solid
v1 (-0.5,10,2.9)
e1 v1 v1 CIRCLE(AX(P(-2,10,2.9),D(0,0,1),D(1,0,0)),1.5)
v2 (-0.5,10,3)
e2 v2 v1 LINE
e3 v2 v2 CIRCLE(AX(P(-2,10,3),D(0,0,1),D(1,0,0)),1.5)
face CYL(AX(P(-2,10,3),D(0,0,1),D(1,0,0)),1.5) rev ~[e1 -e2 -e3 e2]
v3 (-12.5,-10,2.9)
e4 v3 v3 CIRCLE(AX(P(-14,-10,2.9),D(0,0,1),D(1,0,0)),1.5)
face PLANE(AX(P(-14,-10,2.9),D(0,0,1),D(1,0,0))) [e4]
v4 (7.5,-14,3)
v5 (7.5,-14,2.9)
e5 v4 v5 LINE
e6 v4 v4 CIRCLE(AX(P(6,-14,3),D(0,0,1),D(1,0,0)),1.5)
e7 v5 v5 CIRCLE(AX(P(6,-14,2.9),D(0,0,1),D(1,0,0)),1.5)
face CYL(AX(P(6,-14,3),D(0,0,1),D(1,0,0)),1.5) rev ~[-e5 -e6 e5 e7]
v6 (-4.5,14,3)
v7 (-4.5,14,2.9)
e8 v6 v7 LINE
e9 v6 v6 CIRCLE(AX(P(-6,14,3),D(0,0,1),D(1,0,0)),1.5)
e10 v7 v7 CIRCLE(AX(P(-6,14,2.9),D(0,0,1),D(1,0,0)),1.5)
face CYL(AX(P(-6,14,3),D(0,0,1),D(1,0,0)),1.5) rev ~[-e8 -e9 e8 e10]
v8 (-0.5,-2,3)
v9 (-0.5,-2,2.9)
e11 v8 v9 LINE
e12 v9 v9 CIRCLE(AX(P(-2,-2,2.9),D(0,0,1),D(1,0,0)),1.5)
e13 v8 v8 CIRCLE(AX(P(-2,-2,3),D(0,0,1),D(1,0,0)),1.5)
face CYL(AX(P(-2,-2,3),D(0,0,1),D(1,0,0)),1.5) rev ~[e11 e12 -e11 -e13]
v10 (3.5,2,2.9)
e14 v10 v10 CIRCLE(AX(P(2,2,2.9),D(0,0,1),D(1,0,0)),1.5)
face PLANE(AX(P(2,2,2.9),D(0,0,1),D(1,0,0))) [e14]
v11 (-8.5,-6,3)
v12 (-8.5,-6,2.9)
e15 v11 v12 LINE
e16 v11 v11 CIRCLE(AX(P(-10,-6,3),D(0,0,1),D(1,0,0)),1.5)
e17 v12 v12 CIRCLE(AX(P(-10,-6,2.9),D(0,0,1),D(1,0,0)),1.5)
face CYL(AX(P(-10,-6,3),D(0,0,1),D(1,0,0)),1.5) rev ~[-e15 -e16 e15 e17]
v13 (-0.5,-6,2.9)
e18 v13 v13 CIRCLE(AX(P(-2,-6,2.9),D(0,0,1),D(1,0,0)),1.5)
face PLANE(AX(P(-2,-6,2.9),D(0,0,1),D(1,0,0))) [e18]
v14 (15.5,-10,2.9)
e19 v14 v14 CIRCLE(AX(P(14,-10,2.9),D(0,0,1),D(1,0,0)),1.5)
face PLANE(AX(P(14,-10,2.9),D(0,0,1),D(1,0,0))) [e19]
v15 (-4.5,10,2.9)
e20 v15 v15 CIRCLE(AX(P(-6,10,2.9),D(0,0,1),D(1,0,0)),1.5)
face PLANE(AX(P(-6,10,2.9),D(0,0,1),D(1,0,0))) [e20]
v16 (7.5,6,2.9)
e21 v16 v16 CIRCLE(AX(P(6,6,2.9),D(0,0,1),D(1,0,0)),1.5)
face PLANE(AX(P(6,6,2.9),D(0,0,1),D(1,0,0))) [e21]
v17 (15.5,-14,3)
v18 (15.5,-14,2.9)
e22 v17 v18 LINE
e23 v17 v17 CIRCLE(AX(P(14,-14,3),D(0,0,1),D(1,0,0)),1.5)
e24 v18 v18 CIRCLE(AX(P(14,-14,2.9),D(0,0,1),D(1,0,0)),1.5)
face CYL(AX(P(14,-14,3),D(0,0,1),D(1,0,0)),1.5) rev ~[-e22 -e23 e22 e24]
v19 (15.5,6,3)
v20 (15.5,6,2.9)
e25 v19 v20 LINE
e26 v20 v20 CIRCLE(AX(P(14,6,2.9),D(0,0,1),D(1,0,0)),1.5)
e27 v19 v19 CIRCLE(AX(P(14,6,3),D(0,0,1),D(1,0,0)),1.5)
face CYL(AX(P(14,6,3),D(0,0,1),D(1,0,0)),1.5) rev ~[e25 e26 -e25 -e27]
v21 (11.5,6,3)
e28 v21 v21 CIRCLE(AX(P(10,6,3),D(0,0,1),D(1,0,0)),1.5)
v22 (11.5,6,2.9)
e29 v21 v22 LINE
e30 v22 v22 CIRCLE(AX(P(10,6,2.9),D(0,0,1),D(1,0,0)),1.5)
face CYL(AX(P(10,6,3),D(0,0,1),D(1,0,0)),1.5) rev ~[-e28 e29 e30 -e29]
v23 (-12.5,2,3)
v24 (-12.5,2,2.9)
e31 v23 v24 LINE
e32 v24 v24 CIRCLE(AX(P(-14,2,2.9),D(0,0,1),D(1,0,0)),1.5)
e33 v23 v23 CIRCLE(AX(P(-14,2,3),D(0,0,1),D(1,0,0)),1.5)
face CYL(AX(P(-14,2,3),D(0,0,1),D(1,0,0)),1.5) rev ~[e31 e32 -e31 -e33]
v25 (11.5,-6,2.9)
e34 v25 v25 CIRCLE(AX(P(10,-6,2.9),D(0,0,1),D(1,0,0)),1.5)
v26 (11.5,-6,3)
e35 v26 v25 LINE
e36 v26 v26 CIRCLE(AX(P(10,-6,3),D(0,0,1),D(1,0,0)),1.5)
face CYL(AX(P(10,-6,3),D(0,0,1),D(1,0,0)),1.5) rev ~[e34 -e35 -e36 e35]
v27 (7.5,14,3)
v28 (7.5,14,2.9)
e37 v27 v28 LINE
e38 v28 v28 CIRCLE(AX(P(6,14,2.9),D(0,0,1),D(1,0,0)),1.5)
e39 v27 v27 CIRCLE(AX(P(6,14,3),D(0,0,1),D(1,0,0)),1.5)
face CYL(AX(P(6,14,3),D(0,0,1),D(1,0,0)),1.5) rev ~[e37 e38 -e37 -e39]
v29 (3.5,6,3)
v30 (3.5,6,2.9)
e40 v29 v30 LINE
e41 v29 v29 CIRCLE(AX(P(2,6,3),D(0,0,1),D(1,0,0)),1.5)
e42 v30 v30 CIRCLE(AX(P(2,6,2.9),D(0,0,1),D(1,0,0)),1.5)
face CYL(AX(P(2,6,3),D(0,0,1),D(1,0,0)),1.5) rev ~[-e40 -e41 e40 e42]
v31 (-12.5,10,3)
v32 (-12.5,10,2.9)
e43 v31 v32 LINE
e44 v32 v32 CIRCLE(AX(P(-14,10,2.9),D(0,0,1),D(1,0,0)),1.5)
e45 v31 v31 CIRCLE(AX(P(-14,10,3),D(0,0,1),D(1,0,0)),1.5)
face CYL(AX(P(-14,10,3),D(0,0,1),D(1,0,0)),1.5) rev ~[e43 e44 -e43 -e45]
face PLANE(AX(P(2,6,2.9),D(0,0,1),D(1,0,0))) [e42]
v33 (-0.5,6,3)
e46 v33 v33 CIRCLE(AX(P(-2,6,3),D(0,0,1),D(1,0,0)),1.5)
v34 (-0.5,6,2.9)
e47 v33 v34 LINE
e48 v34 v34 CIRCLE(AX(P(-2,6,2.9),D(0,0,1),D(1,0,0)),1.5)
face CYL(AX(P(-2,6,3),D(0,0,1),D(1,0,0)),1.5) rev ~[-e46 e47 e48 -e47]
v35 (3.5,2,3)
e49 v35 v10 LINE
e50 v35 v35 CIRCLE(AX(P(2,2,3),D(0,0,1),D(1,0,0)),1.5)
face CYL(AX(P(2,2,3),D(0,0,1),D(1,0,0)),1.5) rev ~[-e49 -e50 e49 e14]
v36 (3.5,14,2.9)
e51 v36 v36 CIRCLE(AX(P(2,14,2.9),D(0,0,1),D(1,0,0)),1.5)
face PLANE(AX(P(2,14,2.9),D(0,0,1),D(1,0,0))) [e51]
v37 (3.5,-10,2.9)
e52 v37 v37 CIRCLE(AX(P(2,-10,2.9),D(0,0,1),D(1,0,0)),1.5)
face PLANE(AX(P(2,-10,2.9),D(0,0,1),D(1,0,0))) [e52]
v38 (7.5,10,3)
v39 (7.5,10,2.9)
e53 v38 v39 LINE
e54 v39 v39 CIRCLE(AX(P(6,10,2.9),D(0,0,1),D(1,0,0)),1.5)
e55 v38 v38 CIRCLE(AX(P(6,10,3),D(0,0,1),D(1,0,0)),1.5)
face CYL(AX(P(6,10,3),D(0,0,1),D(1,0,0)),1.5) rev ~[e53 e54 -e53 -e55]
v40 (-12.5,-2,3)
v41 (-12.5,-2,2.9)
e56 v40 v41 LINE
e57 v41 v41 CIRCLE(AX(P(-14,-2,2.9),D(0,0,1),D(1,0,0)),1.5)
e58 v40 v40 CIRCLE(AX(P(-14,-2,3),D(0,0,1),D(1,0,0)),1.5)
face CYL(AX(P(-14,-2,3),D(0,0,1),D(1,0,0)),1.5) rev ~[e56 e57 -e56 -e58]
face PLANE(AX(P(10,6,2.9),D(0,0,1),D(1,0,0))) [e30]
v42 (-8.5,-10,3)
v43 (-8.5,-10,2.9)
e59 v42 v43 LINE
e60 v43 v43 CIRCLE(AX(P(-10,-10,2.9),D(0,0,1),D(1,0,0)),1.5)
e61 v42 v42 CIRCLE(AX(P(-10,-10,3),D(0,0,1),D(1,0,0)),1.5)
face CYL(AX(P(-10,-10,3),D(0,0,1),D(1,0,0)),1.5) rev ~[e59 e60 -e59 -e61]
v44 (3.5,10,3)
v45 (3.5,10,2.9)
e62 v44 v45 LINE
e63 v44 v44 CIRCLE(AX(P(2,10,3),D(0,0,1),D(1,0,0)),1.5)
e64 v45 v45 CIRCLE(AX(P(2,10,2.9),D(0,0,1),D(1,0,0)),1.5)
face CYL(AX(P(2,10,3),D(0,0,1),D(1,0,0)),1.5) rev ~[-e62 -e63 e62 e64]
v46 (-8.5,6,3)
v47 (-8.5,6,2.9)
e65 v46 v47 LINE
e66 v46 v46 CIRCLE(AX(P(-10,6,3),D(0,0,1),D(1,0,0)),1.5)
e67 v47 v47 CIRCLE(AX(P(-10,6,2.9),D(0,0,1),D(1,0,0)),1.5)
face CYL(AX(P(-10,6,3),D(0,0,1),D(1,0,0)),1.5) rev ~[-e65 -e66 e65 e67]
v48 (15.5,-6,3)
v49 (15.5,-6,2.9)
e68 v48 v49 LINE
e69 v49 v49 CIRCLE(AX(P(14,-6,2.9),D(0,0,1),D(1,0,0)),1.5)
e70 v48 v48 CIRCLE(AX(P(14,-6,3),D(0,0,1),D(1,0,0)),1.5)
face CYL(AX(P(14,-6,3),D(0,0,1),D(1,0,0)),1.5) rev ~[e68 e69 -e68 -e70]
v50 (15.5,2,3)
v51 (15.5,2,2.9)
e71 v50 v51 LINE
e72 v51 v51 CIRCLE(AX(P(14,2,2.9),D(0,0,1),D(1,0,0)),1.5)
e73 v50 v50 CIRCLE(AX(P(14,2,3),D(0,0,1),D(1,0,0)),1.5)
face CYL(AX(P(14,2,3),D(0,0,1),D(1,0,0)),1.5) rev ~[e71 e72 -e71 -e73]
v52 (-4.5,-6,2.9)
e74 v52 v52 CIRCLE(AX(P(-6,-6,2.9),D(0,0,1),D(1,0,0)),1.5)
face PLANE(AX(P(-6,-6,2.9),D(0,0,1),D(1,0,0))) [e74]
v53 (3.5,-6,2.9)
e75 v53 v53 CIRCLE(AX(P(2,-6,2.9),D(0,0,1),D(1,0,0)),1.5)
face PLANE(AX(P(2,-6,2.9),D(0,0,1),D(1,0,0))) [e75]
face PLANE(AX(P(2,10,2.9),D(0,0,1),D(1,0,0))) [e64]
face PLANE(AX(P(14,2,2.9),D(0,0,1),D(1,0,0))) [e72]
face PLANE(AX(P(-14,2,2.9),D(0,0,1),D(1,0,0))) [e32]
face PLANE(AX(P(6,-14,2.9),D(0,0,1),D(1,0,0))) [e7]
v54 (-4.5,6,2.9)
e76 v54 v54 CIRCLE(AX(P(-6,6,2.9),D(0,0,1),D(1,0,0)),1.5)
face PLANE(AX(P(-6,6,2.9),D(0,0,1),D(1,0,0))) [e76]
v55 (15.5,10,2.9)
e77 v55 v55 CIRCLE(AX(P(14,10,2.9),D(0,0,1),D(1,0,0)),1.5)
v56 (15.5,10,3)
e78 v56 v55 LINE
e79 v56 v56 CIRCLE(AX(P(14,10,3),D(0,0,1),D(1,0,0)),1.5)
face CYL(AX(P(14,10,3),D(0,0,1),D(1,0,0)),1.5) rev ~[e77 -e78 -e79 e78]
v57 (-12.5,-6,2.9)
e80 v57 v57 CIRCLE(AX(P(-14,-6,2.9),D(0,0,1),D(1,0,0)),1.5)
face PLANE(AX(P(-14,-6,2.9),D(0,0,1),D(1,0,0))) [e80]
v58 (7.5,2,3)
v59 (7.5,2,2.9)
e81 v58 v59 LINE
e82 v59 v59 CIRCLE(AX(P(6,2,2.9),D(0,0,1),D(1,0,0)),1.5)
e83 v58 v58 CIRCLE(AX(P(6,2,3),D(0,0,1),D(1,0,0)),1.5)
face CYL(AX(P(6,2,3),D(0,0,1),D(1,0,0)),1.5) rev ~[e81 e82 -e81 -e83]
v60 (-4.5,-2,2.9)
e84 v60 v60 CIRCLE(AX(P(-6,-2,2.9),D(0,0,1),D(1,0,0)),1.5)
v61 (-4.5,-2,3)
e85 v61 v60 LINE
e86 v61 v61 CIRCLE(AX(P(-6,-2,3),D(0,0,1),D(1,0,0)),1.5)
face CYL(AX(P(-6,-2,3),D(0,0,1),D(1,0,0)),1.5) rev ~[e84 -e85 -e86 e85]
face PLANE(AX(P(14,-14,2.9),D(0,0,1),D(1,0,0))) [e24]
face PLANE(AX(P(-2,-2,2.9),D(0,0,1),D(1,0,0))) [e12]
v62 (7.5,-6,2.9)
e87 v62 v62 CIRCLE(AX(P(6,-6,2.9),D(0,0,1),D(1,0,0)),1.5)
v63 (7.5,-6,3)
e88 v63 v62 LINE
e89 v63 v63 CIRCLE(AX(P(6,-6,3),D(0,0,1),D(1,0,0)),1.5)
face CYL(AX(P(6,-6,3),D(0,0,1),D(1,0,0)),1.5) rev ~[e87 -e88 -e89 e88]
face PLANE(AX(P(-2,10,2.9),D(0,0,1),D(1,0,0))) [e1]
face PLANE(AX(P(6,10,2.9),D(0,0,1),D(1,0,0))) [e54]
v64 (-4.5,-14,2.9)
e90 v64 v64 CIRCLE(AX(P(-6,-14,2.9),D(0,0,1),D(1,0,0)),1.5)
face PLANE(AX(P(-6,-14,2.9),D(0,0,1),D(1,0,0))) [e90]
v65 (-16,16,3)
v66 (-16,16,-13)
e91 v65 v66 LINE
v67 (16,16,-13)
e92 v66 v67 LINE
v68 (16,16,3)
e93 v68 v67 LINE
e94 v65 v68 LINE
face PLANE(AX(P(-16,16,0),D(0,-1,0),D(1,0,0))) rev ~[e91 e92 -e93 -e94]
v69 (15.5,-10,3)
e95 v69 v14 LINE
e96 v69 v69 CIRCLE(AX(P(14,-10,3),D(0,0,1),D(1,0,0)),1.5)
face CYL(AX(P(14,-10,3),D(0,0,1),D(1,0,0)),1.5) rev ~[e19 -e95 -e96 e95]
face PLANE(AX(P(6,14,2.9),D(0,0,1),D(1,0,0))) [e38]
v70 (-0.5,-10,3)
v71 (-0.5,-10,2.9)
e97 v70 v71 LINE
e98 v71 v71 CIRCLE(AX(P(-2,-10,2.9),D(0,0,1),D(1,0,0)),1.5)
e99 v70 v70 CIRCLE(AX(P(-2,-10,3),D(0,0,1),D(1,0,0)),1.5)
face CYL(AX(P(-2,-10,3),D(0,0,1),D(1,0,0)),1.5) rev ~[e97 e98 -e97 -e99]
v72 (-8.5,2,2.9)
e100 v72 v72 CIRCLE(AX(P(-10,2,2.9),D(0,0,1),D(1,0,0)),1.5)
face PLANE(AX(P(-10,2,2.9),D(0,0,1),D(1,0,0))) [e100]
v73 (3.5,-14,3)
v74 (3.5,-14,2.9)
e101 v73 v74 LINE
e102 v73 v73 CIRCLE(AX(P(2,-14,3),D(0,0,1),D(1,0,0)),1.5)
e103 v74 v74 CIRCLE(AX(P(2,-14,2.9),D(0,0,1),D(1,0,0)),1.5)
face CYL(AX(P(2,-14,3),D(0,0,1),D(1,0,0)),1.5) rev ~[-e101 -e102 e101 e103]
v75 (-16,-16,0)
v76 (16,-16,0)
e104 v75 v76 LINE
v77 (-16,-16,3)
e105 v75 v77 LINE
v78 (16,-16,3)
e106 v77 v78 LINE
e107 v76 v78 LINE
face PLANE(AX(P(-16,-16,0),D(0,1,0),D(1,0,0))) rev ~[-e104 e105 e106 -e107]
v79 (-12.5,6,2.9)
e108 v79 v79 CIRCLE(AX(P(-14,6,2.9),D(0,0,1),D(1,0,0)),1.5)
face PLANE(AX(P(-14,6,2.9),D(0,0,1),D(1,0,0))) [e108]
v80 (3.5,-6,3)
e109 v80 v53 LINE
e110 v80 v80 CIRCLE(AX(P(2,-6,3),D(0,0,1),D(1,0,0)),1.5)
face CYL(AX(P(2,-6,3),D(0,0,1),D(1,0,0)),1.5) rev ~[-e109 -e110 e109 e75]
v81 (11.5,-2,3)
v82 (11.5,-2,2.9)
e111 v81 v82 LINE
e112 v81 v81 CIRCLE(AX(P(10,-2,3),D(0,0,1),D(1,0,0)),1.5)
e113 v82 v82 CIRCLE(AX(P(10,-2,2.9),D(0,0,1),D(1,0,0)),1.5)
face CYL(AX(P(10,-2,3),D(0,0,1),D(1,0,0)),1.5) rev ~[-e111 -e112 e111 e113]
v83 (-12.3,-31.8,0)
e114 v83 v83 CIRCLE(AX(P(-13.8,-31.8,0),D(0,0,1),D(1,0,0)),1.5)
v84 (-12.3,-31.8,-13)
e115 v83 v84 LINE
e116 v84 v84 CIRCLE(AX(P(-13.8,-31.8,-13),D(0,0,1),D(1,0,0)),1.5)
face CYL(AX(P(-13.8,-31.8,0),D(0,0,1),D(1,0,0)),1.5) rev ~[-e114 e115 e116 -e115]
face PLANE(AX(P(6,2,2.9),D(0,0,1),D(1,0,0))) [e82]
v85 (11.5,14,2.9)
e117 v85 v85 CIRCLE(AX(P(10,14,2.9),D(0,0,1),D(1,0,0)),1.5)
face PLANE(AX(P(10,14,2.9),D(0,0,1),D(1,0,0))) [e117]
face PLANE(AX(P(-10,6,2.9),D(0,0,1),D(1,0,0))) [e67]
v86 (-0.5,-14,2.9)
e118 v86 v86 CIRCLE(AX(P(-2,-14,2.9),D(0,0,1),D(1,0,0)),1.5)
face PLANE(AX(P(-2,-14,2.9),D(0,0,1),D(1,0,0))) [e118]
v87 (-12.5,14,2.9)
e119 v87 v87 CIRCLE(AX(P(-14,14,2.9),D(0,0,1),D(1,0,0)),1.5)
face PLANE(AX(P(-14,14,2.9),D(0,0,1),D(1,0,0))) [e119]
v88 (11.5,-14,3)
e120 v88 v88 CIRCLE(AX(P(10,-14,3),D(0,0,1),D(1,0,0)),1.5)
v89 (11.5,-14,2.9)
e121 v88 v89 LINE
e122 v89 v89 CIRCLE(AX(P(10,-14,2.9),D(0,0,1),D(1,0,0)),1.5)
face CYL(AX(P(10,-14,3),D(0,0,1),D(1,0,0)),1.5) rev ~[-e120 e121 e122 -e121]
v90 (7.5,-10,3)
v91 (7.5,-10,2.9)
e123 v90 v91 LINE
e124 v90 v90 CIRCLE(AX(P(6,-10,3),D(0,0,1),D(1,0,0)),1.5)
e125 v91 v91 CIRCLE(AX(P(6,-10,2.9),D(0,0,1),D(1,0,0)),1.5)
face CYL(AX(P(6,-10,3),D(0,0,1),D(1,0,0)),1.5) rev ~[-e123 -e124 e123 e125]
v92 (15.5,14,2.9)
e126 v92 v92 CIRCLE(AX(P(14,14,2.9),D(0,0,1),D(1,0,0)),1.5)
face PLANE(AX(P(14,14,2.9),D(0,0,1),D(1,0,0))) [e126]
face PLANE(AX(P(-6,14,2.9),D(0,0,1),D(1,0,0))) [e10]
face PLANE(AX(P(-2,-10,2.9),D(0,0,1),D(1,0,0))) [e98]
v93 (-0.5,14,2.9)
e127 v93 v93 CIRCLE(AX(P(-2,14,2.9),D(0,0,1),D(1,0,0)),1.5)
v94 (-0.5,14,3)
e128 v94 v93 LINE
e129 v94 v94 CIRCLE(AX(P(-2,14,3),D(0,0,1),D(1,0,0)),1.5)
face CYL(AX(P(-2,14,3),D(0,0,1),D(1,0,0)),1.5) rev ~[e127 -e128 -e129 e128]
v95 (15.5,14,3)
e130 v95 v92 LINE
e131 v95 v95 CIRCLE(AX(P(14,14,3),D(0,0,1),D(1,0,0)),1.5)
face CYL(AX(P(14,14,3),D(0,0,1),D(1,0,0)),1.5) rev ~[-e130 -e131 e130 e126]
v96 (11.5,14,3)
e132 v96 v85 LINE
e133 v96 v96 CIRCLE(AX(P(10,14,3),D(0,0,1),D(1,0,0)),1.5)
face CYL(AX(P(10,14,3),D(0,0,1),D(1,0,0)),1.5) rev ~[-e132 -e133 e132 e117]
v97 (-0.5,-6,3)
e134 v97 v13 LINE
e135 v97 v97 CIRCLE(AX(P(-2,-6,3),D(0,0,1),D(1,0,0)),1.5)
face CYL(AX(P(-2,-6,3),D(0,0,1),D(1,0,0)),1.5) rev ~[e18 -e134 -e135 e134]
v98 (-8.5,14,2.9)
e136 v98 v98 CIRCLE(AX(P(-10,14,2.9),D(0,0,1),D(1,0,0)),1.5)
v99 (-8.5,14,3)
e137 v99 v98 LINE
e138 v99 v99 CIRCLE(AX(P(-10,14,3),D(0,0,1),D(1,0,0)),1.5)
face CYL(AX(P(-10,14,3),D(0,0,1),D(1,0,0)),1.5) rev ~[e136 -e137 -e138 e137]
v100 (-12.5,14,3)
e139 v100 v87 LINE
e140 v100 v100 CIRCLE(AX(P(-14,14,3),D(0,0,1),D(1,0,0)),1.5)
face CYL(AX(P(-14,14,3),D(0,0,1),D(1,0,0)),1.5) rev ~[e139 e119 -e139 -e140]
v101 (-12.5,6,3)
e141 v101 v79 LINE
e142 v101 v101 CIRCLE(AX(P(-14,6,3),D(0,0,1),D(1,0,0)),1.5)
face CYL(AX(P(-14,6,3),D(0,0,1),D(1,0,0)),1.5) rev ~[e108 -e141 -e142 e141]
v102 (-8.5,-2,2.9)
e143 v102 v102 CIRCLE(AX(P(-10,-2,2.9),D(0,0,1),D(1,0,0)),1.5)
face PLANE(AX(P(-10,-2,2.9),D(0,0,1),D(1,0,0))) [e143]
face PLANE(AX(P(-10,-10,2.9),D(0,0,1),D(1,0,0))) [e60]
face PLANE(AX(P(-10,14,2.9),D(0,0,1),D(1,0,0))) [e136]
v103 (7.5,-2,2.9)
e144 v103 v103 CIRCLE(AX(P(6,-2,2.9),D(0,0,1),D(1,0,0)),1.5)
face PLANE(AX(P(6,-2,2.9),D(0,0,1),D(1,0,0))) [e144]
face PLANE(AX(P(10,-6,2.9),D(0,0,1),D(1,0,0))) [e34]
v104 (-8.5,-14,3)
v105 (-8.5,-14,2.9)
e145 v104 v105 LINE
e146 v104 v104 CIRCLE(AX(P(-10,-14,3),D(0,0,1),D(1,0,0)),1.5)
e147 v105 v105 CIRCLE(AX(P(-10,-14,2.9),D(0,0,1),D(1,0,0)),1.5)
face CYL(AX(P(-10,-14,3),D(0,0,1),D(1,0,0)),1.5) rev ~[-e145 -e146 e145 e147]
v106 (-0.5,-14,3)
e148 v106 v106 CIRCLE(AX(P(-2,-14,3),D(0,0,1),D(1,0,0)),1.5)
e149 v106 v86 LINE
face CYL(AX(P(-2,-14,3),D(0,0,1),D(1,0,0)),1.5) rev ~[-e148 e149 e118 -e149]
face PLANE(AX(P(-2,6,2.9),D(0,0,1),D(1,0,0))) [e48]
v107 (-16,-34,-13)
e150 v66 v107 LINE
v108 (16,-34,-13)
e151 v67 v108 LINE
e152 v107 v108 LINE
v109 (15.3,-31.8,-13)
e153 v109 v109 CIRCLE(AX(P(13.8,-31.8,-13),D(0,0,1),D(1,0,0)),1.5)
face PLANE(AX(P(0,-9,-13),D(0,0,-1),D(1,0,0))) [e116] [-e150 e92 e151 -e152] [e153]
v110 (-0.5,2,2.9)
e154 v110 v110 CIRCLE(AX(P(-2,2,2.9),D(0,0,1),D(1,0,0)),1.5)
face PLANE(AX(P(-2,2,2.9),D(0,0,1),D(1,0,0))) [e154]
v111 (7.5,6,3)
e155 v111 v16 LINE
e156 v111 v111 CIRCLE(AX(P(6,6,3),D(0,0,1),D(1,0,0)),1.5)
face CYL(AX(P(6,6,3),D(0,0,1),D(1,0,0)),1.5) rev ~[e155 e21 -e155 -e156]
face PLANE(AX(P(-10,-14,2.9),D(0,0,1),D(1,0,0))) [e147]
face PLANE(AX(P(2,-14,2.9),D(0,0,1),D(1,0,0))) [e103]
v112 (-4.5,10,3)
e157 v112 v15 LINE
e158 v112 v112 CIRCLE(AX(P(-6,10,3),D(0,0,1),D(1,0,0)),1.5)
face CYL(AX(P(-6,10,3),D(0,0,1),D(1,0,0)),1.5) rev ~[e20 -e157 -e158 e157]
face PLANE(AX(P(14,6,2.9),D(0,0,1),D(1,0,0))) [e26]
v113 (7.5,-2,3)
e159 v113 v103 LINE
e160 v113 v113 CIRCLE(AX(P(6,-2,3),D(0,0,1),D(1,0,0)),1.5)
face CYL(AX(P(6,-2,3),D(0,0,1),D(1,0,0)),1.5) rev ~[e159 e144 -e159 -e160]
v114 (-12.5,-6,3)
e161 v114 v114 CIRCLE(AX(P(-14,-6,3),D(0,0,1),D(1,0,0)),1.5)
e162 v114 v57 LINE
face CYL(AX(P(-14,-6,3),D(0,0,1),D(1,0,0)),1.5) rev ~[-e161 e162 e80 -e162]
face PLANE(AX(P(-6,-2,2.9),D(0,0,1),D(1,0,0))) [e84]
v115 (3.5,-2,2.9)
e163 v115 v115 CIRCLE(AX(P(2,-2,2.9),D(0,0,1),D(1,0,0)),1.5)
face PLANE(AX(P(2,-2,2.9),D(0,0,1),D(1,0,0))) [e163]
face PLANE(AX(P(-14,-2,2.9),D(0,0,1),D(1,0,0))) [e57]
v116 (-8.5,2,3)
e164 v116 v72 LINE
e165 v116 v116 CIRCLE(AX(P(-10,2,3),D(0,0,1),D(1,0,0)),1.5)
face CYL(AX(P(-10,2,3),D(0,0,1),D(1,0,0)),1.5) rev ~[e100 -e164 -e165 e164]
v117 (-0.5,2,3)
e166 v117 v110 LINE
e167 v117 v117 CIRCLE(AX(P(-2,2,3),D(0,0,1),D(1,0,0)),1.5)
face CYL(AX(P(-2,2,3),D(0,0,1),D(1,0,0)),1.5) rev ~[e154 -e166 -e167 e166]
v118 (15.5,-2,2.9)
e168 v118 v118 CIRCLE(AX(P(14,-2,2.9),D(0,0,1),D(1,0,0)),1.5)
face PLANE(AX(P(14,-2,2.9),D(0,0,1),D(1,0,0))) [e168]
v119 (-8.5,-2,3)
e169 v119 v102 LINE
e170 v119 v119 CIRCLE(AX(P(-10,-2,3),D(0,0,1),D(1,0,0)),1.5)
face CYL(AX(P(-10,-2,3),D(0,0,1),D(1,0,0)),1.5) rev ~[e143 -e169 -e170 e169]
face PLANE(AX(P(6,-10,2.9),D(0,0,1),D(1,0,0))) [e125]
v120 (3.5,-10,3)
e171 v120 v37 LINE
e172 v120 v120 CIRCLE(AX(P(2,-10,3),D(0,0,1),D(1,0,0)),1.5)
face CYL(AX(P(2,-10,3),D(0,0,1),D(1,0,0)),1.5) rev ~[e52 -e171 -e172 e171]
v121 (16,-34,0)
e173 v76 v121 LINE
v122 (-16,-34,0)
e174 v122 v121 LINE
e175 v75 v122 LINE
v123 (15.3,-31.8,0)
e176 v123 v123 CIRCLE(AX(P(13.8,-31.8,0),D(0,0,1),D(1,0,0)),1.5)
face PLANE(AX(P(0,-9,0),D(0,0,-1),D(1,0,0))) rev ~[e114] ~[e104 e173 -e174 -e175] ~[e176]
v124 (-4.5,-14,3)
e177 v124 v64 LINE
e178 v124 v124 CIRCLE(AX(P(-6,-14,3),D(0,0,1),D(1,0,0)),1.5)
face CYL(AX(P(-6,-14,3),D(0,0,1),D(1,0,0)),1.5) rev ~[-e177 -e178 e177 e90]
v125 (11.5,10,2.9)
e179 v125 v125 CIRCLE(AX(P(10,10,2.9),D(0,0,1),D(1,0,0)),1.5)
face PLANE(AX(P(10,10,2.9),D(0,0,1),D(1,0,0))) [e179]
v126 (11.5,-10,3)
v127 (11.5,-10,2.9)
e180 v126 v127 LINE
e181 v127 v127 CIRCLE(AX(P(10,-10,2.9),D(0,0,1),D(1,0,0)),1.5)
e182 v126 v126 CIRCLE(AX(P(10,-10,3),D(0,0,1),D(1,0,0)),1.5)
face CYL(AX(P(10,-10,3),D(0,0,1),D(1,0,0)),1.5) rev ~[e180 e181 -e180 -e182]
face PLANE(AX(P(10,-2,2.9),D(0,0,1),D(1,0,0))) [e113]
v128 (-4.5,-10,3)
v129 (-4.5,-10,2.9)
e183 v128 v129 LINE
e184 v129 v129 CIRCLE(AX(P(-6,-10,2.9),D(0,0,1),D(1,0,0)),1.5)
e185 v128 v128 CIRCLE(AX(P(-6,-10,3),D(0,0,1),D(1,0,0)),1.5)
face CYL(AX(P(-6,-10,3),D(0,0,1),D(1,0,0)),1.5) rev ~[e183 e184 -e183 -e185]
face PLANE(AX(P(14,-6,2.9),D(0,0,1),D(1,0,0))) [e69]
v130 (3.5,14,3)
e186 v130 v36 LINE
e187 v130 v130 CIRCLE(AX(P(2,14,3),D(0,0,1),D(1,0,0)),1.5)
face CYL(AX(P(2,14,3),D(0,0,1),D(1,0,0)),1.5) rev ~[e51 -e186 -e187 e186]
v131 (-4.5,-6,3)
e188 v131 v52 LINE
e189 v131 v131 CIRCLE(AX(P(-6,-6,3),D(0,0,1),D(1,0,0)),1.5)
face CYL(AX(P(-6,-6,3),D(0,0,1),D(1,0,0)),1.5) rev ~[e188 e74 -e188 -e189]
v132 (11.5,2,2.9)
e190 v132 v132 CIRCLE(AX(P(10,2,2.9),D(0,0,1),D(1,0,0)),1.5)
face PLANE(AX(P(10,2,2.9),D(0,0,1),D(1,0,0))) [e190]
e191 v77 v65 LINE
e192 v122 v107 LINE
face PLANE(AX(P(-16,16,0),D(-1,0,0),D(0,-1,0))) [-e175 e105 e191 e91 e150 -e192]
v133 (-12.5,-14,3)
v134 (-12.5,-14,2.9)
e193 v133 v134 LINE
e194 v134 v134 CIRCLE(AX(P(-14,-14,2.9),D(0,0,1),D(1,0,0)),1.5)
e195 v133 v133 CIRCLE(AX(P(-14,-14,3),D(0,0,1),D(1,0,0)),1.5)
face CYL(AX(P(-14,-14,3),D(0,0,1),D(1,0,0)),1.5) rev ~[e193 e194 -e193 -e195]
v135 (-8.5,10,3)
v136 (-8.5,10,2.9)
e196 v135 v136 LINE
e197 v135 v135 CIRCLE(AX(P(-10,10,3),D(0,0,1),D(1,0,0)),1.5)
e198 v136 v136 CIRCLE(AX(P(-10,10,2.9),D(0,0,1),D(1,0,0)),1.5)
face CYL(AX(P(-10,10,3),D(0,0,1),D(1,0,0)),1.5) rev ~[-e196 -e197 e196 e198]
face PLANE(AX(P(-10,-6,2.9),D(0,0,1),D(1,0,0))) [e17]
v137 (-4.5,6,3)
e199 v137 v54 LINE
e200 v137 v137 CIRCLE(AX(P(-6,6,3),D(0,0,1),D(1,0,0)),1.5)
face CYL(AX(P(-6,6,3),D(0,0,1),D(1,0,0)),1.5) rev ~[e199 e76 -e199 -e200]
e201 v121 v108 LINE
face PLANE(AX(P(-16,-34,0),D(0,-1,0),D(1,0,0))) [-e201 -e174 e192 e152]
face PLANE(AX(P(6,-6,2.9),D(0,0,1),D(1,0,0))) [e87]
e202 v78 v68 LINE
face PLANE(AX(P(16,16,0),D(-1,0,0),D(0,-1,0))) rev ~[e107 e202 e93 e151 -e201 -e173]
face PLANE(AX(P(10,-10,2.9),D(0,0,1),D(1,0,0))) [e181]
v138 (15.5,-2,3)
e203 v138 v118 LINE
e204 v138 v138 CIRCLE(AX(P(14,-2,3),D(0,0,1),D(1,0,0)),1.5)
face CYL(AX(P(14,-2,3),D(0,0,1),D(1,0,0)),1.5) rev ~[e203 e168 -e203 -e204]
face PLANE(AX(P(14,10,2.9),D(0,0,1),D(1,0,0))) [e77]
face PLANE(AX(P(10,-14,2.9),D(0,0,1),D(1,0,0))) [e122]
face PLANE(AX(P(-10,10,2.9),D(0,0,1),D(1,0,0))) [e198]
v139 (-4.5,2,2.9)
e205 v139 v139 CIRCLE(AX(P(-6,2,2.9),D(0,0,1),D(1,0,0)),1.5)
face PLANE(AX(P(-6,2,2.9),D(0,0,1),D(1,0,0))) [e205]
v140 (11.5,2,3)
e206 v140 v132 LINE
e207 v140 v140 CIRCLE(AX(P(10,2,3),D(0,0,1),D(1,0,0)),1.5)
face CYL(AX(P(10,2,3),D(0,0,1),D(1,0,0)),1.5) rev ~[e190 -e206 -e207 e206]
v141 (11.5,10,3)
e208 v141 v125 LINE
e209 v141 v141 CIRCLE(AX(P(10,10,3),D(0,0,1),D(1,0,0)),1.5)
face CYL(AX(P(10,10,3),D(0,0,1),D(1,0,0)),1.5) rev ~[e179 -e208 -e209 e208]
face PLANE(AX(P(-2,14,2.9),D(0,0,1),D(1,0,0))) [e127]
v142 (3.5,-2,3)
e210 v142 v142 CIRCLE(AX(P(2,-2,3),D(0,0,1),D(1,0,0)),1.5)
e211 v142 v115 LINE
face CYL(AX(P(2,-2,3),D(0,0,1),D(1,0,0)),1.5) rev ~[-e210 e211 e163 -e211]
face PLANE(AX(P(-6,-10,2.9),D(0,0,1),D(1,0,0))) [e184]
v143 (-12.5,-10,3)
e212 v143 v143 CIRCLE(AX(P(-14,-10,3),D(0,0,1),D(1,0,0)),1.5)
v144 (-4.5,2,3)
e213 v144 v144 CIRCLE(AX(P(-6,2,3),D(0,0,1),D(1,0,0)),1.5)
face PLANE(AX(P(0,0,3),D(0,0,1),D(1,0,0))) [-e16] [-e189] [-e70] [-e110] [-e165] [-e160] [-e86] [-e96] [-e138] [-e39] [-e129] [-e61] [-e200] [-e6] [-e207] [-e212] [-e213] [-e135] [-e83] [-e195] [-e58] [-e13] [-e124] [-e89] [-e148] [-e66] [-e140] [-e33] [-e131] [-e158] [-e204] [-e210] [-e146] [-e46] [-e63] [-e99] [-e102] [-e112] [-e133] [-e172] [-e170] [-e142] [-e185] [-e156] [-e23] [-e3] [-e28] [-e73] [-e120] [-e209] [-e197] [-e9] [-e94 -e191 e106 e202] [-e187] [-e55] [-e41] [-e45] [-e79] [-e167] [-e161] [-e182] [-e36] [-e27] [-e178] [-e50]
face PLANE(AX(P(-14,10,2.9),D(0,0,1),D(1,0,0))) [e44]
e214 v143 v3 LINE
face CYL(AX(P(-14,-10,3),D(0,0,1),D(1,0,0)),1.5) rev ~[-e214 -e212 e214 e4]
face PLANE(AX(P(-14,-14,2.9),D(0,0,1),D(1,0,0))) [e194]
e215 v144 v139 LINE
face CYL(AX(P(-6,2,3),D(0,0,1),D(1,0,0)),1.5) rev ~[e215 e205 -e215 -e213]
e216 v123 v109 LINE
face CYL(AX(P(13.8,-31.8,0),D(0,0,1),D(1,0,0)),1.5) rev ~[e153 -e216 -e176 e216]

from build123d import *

# Parameters (mm, degrees)
F0_W     = 32
F0_H     = 32
F1_DEPTH = 3
F2_W     = 32
F2_H     = 50
F3_DEPTH = 13
F4_R     = 1.5
F5_DEPTH = 0.1
F6_R     = 1.5
F7_DEPTH = 13.001


with BuildPart() as f1:
    # F0 (on Top) → F1 (new body)
    with BuildSketch(Plane.XY):
        Rectangle(F0_W, F0_H)
    extrude(amount=F1_DEPTH)

    # F2 (on face) → F3 (join)
    with BuildSketch(Plane(origin=(0, 0, 0), x_dir=(1, 0, 0), z_dir=(0, 0, -1))):
        with Locations((0, 9)):
            Rectangle(F2_W, F2_H)
    extrude(amount=F3_DEPTH)

    # F4 (on face) → F5 (cut)
    with BuildSketch(Plane.XY.offset(3)):
        with Locations((14, 14)):
            Circle(F4_R)
        with Locations((14, 10)):
            Circle(F4_R)
        with Locations((14, 6)):
            Circle(F4_R)
        with Locations((14, 2)):
            Circle(F4_R)
        with Locations((14, -2)):
            Circle(F4_R)
        with Locations((14, -6)):
            Circle(F4_R)
        with Locations((14, -10)):
            Circle(F4_R)
        with Locations((14, -14)):
            Circle(F4_R)
        with Locations((10, 14)):
            Circle(F4_R)
        with Locations((10, 10)):
            Circle(F4_R)
        with Locations((10, 6)):
            Circle(F4_R)
        with Locations((10, 2)):
            Circle(F4_R)
        with Locations((10, -2)):
            Circle(F4_R)
        with Locations((10, -6)):
            Circle(F4_R)
        with Locations((10, -10)):
            Circle(F4_R)
        with Locations((10, -14)):
            Circle(F4_R)
        with Locations((6, 14)):
            Circle(F4_R)
        with Locations((6, 10)):
            Circle(F4_R)
        with Locations((6, 6)):
            Circle(F4_R)
        with Locations((6, 2)):
            Circle(F4_R)
        with Locations((6, -2)):
            Circle(F4_R)
        with Locations((6, -6)):
            Circle(F4_R)
        with Locations((6, -10)):
            Circle(F4_R)
        with Locations((6, -14)):
            Circle(F4_R)
        with Locations((2, 14)):
            Circle(F4_R)
        with Locations((2, 10)):
            Circle(F4_R)
        with Locations((2, 6)):
            Circle(F4_R)
        with Locations((2, 2)):
            Circle(F4_R)
        with Locations((2, -2)):
            Circle(F4_R)
        with Locations((2, -6)):
            Circle(F4_R)
        with Locations((2, -10)):
            Circle(F4_R)
        with Locations((2, -14)):
            Circle(F4_R)
        with Locations((-2, 14)):
            Circle(F4_R)
        with Locations((-2, 10)):
            Circle(F4_R)
        with Locations((-2, 6)):
            Circle(F4_R)
        with Locations((-2, 2)):
            Circle(F4_R)
        with Locations((-2, -2)):
            Circle(F4_R)
        with Locations((-2, -6)):
            Circle(F4_R)
        with Locations((-2, -10)):
            Circle(F4_R)
        with Locations((-2, -14)):
            Circle(F4_R)
        with Locations((-6, 14)):
            Circle(F4_R)
        with Locations((-6, 10)):
            Circle(F4_R)
        with Locations((-6, 6)):
            Circle(F4_R)
        with Locations((-6, 2)):
            Circle(F4_R)
        with Locations((-6, -2)):
            Circle(F4_R)
        with Locations((-6, -6)):
            Circle(F4_R)
        with Locations((-6, -10)):
            Circle(F4_R)
        with Locations((-6, -14)):
            Circle(F4_R)
        with Locations((-10, 14)):
            Circle(F4_R)
        with Locations((-10, 10)):
            Circle(F4_R)
        with Locations((-10, 6)):
            Circle(F4_R)
        with Locations((-10, 2)):
            Circle(F4_R)
        with Locations((-10, -2)):
            Circle(F4_R)
        with Locations((-10, -6)):
            Circle(F4_R)
        with Locations((-10, -10)):
            Circle(F4_R)
        with Locations((-10, -14)):
            Circle(F4_R)
        with Locations((-14, 14)):
            Circle(F4_R)
        with Locations((-14, 10)):
            Circle(F4_R)
        with Locations((-14, 6)):
            Circle(F4_R)
        with Locations((-14, 2)):
            Circle(F4_R)
        with Locations((-14, -2)):
            Circle(F4_R)
        with Locations((-14, -6)):
            Circle(F4_R)
        with Locations((-14, -10)):
            Circle(F4_R)
        with Locations((-14, -14)):
            Circle(F4_R)
    extrude(amount=-F5_DEPTH, mode=Mode.SUBTRACT)

    # F6 (on face) → F7 (cut, through all)
    with BuildSketch(Plane.XY):
        with Locations((-13.8, -31.8)):
            Circle(F6_R)
        with Locations((13.8, -31.8)):
            Circle(F6_R)
    extrude(amount=-F7_DEPTH, mode=Mode.SUBTRACT)


solid = f1.part
